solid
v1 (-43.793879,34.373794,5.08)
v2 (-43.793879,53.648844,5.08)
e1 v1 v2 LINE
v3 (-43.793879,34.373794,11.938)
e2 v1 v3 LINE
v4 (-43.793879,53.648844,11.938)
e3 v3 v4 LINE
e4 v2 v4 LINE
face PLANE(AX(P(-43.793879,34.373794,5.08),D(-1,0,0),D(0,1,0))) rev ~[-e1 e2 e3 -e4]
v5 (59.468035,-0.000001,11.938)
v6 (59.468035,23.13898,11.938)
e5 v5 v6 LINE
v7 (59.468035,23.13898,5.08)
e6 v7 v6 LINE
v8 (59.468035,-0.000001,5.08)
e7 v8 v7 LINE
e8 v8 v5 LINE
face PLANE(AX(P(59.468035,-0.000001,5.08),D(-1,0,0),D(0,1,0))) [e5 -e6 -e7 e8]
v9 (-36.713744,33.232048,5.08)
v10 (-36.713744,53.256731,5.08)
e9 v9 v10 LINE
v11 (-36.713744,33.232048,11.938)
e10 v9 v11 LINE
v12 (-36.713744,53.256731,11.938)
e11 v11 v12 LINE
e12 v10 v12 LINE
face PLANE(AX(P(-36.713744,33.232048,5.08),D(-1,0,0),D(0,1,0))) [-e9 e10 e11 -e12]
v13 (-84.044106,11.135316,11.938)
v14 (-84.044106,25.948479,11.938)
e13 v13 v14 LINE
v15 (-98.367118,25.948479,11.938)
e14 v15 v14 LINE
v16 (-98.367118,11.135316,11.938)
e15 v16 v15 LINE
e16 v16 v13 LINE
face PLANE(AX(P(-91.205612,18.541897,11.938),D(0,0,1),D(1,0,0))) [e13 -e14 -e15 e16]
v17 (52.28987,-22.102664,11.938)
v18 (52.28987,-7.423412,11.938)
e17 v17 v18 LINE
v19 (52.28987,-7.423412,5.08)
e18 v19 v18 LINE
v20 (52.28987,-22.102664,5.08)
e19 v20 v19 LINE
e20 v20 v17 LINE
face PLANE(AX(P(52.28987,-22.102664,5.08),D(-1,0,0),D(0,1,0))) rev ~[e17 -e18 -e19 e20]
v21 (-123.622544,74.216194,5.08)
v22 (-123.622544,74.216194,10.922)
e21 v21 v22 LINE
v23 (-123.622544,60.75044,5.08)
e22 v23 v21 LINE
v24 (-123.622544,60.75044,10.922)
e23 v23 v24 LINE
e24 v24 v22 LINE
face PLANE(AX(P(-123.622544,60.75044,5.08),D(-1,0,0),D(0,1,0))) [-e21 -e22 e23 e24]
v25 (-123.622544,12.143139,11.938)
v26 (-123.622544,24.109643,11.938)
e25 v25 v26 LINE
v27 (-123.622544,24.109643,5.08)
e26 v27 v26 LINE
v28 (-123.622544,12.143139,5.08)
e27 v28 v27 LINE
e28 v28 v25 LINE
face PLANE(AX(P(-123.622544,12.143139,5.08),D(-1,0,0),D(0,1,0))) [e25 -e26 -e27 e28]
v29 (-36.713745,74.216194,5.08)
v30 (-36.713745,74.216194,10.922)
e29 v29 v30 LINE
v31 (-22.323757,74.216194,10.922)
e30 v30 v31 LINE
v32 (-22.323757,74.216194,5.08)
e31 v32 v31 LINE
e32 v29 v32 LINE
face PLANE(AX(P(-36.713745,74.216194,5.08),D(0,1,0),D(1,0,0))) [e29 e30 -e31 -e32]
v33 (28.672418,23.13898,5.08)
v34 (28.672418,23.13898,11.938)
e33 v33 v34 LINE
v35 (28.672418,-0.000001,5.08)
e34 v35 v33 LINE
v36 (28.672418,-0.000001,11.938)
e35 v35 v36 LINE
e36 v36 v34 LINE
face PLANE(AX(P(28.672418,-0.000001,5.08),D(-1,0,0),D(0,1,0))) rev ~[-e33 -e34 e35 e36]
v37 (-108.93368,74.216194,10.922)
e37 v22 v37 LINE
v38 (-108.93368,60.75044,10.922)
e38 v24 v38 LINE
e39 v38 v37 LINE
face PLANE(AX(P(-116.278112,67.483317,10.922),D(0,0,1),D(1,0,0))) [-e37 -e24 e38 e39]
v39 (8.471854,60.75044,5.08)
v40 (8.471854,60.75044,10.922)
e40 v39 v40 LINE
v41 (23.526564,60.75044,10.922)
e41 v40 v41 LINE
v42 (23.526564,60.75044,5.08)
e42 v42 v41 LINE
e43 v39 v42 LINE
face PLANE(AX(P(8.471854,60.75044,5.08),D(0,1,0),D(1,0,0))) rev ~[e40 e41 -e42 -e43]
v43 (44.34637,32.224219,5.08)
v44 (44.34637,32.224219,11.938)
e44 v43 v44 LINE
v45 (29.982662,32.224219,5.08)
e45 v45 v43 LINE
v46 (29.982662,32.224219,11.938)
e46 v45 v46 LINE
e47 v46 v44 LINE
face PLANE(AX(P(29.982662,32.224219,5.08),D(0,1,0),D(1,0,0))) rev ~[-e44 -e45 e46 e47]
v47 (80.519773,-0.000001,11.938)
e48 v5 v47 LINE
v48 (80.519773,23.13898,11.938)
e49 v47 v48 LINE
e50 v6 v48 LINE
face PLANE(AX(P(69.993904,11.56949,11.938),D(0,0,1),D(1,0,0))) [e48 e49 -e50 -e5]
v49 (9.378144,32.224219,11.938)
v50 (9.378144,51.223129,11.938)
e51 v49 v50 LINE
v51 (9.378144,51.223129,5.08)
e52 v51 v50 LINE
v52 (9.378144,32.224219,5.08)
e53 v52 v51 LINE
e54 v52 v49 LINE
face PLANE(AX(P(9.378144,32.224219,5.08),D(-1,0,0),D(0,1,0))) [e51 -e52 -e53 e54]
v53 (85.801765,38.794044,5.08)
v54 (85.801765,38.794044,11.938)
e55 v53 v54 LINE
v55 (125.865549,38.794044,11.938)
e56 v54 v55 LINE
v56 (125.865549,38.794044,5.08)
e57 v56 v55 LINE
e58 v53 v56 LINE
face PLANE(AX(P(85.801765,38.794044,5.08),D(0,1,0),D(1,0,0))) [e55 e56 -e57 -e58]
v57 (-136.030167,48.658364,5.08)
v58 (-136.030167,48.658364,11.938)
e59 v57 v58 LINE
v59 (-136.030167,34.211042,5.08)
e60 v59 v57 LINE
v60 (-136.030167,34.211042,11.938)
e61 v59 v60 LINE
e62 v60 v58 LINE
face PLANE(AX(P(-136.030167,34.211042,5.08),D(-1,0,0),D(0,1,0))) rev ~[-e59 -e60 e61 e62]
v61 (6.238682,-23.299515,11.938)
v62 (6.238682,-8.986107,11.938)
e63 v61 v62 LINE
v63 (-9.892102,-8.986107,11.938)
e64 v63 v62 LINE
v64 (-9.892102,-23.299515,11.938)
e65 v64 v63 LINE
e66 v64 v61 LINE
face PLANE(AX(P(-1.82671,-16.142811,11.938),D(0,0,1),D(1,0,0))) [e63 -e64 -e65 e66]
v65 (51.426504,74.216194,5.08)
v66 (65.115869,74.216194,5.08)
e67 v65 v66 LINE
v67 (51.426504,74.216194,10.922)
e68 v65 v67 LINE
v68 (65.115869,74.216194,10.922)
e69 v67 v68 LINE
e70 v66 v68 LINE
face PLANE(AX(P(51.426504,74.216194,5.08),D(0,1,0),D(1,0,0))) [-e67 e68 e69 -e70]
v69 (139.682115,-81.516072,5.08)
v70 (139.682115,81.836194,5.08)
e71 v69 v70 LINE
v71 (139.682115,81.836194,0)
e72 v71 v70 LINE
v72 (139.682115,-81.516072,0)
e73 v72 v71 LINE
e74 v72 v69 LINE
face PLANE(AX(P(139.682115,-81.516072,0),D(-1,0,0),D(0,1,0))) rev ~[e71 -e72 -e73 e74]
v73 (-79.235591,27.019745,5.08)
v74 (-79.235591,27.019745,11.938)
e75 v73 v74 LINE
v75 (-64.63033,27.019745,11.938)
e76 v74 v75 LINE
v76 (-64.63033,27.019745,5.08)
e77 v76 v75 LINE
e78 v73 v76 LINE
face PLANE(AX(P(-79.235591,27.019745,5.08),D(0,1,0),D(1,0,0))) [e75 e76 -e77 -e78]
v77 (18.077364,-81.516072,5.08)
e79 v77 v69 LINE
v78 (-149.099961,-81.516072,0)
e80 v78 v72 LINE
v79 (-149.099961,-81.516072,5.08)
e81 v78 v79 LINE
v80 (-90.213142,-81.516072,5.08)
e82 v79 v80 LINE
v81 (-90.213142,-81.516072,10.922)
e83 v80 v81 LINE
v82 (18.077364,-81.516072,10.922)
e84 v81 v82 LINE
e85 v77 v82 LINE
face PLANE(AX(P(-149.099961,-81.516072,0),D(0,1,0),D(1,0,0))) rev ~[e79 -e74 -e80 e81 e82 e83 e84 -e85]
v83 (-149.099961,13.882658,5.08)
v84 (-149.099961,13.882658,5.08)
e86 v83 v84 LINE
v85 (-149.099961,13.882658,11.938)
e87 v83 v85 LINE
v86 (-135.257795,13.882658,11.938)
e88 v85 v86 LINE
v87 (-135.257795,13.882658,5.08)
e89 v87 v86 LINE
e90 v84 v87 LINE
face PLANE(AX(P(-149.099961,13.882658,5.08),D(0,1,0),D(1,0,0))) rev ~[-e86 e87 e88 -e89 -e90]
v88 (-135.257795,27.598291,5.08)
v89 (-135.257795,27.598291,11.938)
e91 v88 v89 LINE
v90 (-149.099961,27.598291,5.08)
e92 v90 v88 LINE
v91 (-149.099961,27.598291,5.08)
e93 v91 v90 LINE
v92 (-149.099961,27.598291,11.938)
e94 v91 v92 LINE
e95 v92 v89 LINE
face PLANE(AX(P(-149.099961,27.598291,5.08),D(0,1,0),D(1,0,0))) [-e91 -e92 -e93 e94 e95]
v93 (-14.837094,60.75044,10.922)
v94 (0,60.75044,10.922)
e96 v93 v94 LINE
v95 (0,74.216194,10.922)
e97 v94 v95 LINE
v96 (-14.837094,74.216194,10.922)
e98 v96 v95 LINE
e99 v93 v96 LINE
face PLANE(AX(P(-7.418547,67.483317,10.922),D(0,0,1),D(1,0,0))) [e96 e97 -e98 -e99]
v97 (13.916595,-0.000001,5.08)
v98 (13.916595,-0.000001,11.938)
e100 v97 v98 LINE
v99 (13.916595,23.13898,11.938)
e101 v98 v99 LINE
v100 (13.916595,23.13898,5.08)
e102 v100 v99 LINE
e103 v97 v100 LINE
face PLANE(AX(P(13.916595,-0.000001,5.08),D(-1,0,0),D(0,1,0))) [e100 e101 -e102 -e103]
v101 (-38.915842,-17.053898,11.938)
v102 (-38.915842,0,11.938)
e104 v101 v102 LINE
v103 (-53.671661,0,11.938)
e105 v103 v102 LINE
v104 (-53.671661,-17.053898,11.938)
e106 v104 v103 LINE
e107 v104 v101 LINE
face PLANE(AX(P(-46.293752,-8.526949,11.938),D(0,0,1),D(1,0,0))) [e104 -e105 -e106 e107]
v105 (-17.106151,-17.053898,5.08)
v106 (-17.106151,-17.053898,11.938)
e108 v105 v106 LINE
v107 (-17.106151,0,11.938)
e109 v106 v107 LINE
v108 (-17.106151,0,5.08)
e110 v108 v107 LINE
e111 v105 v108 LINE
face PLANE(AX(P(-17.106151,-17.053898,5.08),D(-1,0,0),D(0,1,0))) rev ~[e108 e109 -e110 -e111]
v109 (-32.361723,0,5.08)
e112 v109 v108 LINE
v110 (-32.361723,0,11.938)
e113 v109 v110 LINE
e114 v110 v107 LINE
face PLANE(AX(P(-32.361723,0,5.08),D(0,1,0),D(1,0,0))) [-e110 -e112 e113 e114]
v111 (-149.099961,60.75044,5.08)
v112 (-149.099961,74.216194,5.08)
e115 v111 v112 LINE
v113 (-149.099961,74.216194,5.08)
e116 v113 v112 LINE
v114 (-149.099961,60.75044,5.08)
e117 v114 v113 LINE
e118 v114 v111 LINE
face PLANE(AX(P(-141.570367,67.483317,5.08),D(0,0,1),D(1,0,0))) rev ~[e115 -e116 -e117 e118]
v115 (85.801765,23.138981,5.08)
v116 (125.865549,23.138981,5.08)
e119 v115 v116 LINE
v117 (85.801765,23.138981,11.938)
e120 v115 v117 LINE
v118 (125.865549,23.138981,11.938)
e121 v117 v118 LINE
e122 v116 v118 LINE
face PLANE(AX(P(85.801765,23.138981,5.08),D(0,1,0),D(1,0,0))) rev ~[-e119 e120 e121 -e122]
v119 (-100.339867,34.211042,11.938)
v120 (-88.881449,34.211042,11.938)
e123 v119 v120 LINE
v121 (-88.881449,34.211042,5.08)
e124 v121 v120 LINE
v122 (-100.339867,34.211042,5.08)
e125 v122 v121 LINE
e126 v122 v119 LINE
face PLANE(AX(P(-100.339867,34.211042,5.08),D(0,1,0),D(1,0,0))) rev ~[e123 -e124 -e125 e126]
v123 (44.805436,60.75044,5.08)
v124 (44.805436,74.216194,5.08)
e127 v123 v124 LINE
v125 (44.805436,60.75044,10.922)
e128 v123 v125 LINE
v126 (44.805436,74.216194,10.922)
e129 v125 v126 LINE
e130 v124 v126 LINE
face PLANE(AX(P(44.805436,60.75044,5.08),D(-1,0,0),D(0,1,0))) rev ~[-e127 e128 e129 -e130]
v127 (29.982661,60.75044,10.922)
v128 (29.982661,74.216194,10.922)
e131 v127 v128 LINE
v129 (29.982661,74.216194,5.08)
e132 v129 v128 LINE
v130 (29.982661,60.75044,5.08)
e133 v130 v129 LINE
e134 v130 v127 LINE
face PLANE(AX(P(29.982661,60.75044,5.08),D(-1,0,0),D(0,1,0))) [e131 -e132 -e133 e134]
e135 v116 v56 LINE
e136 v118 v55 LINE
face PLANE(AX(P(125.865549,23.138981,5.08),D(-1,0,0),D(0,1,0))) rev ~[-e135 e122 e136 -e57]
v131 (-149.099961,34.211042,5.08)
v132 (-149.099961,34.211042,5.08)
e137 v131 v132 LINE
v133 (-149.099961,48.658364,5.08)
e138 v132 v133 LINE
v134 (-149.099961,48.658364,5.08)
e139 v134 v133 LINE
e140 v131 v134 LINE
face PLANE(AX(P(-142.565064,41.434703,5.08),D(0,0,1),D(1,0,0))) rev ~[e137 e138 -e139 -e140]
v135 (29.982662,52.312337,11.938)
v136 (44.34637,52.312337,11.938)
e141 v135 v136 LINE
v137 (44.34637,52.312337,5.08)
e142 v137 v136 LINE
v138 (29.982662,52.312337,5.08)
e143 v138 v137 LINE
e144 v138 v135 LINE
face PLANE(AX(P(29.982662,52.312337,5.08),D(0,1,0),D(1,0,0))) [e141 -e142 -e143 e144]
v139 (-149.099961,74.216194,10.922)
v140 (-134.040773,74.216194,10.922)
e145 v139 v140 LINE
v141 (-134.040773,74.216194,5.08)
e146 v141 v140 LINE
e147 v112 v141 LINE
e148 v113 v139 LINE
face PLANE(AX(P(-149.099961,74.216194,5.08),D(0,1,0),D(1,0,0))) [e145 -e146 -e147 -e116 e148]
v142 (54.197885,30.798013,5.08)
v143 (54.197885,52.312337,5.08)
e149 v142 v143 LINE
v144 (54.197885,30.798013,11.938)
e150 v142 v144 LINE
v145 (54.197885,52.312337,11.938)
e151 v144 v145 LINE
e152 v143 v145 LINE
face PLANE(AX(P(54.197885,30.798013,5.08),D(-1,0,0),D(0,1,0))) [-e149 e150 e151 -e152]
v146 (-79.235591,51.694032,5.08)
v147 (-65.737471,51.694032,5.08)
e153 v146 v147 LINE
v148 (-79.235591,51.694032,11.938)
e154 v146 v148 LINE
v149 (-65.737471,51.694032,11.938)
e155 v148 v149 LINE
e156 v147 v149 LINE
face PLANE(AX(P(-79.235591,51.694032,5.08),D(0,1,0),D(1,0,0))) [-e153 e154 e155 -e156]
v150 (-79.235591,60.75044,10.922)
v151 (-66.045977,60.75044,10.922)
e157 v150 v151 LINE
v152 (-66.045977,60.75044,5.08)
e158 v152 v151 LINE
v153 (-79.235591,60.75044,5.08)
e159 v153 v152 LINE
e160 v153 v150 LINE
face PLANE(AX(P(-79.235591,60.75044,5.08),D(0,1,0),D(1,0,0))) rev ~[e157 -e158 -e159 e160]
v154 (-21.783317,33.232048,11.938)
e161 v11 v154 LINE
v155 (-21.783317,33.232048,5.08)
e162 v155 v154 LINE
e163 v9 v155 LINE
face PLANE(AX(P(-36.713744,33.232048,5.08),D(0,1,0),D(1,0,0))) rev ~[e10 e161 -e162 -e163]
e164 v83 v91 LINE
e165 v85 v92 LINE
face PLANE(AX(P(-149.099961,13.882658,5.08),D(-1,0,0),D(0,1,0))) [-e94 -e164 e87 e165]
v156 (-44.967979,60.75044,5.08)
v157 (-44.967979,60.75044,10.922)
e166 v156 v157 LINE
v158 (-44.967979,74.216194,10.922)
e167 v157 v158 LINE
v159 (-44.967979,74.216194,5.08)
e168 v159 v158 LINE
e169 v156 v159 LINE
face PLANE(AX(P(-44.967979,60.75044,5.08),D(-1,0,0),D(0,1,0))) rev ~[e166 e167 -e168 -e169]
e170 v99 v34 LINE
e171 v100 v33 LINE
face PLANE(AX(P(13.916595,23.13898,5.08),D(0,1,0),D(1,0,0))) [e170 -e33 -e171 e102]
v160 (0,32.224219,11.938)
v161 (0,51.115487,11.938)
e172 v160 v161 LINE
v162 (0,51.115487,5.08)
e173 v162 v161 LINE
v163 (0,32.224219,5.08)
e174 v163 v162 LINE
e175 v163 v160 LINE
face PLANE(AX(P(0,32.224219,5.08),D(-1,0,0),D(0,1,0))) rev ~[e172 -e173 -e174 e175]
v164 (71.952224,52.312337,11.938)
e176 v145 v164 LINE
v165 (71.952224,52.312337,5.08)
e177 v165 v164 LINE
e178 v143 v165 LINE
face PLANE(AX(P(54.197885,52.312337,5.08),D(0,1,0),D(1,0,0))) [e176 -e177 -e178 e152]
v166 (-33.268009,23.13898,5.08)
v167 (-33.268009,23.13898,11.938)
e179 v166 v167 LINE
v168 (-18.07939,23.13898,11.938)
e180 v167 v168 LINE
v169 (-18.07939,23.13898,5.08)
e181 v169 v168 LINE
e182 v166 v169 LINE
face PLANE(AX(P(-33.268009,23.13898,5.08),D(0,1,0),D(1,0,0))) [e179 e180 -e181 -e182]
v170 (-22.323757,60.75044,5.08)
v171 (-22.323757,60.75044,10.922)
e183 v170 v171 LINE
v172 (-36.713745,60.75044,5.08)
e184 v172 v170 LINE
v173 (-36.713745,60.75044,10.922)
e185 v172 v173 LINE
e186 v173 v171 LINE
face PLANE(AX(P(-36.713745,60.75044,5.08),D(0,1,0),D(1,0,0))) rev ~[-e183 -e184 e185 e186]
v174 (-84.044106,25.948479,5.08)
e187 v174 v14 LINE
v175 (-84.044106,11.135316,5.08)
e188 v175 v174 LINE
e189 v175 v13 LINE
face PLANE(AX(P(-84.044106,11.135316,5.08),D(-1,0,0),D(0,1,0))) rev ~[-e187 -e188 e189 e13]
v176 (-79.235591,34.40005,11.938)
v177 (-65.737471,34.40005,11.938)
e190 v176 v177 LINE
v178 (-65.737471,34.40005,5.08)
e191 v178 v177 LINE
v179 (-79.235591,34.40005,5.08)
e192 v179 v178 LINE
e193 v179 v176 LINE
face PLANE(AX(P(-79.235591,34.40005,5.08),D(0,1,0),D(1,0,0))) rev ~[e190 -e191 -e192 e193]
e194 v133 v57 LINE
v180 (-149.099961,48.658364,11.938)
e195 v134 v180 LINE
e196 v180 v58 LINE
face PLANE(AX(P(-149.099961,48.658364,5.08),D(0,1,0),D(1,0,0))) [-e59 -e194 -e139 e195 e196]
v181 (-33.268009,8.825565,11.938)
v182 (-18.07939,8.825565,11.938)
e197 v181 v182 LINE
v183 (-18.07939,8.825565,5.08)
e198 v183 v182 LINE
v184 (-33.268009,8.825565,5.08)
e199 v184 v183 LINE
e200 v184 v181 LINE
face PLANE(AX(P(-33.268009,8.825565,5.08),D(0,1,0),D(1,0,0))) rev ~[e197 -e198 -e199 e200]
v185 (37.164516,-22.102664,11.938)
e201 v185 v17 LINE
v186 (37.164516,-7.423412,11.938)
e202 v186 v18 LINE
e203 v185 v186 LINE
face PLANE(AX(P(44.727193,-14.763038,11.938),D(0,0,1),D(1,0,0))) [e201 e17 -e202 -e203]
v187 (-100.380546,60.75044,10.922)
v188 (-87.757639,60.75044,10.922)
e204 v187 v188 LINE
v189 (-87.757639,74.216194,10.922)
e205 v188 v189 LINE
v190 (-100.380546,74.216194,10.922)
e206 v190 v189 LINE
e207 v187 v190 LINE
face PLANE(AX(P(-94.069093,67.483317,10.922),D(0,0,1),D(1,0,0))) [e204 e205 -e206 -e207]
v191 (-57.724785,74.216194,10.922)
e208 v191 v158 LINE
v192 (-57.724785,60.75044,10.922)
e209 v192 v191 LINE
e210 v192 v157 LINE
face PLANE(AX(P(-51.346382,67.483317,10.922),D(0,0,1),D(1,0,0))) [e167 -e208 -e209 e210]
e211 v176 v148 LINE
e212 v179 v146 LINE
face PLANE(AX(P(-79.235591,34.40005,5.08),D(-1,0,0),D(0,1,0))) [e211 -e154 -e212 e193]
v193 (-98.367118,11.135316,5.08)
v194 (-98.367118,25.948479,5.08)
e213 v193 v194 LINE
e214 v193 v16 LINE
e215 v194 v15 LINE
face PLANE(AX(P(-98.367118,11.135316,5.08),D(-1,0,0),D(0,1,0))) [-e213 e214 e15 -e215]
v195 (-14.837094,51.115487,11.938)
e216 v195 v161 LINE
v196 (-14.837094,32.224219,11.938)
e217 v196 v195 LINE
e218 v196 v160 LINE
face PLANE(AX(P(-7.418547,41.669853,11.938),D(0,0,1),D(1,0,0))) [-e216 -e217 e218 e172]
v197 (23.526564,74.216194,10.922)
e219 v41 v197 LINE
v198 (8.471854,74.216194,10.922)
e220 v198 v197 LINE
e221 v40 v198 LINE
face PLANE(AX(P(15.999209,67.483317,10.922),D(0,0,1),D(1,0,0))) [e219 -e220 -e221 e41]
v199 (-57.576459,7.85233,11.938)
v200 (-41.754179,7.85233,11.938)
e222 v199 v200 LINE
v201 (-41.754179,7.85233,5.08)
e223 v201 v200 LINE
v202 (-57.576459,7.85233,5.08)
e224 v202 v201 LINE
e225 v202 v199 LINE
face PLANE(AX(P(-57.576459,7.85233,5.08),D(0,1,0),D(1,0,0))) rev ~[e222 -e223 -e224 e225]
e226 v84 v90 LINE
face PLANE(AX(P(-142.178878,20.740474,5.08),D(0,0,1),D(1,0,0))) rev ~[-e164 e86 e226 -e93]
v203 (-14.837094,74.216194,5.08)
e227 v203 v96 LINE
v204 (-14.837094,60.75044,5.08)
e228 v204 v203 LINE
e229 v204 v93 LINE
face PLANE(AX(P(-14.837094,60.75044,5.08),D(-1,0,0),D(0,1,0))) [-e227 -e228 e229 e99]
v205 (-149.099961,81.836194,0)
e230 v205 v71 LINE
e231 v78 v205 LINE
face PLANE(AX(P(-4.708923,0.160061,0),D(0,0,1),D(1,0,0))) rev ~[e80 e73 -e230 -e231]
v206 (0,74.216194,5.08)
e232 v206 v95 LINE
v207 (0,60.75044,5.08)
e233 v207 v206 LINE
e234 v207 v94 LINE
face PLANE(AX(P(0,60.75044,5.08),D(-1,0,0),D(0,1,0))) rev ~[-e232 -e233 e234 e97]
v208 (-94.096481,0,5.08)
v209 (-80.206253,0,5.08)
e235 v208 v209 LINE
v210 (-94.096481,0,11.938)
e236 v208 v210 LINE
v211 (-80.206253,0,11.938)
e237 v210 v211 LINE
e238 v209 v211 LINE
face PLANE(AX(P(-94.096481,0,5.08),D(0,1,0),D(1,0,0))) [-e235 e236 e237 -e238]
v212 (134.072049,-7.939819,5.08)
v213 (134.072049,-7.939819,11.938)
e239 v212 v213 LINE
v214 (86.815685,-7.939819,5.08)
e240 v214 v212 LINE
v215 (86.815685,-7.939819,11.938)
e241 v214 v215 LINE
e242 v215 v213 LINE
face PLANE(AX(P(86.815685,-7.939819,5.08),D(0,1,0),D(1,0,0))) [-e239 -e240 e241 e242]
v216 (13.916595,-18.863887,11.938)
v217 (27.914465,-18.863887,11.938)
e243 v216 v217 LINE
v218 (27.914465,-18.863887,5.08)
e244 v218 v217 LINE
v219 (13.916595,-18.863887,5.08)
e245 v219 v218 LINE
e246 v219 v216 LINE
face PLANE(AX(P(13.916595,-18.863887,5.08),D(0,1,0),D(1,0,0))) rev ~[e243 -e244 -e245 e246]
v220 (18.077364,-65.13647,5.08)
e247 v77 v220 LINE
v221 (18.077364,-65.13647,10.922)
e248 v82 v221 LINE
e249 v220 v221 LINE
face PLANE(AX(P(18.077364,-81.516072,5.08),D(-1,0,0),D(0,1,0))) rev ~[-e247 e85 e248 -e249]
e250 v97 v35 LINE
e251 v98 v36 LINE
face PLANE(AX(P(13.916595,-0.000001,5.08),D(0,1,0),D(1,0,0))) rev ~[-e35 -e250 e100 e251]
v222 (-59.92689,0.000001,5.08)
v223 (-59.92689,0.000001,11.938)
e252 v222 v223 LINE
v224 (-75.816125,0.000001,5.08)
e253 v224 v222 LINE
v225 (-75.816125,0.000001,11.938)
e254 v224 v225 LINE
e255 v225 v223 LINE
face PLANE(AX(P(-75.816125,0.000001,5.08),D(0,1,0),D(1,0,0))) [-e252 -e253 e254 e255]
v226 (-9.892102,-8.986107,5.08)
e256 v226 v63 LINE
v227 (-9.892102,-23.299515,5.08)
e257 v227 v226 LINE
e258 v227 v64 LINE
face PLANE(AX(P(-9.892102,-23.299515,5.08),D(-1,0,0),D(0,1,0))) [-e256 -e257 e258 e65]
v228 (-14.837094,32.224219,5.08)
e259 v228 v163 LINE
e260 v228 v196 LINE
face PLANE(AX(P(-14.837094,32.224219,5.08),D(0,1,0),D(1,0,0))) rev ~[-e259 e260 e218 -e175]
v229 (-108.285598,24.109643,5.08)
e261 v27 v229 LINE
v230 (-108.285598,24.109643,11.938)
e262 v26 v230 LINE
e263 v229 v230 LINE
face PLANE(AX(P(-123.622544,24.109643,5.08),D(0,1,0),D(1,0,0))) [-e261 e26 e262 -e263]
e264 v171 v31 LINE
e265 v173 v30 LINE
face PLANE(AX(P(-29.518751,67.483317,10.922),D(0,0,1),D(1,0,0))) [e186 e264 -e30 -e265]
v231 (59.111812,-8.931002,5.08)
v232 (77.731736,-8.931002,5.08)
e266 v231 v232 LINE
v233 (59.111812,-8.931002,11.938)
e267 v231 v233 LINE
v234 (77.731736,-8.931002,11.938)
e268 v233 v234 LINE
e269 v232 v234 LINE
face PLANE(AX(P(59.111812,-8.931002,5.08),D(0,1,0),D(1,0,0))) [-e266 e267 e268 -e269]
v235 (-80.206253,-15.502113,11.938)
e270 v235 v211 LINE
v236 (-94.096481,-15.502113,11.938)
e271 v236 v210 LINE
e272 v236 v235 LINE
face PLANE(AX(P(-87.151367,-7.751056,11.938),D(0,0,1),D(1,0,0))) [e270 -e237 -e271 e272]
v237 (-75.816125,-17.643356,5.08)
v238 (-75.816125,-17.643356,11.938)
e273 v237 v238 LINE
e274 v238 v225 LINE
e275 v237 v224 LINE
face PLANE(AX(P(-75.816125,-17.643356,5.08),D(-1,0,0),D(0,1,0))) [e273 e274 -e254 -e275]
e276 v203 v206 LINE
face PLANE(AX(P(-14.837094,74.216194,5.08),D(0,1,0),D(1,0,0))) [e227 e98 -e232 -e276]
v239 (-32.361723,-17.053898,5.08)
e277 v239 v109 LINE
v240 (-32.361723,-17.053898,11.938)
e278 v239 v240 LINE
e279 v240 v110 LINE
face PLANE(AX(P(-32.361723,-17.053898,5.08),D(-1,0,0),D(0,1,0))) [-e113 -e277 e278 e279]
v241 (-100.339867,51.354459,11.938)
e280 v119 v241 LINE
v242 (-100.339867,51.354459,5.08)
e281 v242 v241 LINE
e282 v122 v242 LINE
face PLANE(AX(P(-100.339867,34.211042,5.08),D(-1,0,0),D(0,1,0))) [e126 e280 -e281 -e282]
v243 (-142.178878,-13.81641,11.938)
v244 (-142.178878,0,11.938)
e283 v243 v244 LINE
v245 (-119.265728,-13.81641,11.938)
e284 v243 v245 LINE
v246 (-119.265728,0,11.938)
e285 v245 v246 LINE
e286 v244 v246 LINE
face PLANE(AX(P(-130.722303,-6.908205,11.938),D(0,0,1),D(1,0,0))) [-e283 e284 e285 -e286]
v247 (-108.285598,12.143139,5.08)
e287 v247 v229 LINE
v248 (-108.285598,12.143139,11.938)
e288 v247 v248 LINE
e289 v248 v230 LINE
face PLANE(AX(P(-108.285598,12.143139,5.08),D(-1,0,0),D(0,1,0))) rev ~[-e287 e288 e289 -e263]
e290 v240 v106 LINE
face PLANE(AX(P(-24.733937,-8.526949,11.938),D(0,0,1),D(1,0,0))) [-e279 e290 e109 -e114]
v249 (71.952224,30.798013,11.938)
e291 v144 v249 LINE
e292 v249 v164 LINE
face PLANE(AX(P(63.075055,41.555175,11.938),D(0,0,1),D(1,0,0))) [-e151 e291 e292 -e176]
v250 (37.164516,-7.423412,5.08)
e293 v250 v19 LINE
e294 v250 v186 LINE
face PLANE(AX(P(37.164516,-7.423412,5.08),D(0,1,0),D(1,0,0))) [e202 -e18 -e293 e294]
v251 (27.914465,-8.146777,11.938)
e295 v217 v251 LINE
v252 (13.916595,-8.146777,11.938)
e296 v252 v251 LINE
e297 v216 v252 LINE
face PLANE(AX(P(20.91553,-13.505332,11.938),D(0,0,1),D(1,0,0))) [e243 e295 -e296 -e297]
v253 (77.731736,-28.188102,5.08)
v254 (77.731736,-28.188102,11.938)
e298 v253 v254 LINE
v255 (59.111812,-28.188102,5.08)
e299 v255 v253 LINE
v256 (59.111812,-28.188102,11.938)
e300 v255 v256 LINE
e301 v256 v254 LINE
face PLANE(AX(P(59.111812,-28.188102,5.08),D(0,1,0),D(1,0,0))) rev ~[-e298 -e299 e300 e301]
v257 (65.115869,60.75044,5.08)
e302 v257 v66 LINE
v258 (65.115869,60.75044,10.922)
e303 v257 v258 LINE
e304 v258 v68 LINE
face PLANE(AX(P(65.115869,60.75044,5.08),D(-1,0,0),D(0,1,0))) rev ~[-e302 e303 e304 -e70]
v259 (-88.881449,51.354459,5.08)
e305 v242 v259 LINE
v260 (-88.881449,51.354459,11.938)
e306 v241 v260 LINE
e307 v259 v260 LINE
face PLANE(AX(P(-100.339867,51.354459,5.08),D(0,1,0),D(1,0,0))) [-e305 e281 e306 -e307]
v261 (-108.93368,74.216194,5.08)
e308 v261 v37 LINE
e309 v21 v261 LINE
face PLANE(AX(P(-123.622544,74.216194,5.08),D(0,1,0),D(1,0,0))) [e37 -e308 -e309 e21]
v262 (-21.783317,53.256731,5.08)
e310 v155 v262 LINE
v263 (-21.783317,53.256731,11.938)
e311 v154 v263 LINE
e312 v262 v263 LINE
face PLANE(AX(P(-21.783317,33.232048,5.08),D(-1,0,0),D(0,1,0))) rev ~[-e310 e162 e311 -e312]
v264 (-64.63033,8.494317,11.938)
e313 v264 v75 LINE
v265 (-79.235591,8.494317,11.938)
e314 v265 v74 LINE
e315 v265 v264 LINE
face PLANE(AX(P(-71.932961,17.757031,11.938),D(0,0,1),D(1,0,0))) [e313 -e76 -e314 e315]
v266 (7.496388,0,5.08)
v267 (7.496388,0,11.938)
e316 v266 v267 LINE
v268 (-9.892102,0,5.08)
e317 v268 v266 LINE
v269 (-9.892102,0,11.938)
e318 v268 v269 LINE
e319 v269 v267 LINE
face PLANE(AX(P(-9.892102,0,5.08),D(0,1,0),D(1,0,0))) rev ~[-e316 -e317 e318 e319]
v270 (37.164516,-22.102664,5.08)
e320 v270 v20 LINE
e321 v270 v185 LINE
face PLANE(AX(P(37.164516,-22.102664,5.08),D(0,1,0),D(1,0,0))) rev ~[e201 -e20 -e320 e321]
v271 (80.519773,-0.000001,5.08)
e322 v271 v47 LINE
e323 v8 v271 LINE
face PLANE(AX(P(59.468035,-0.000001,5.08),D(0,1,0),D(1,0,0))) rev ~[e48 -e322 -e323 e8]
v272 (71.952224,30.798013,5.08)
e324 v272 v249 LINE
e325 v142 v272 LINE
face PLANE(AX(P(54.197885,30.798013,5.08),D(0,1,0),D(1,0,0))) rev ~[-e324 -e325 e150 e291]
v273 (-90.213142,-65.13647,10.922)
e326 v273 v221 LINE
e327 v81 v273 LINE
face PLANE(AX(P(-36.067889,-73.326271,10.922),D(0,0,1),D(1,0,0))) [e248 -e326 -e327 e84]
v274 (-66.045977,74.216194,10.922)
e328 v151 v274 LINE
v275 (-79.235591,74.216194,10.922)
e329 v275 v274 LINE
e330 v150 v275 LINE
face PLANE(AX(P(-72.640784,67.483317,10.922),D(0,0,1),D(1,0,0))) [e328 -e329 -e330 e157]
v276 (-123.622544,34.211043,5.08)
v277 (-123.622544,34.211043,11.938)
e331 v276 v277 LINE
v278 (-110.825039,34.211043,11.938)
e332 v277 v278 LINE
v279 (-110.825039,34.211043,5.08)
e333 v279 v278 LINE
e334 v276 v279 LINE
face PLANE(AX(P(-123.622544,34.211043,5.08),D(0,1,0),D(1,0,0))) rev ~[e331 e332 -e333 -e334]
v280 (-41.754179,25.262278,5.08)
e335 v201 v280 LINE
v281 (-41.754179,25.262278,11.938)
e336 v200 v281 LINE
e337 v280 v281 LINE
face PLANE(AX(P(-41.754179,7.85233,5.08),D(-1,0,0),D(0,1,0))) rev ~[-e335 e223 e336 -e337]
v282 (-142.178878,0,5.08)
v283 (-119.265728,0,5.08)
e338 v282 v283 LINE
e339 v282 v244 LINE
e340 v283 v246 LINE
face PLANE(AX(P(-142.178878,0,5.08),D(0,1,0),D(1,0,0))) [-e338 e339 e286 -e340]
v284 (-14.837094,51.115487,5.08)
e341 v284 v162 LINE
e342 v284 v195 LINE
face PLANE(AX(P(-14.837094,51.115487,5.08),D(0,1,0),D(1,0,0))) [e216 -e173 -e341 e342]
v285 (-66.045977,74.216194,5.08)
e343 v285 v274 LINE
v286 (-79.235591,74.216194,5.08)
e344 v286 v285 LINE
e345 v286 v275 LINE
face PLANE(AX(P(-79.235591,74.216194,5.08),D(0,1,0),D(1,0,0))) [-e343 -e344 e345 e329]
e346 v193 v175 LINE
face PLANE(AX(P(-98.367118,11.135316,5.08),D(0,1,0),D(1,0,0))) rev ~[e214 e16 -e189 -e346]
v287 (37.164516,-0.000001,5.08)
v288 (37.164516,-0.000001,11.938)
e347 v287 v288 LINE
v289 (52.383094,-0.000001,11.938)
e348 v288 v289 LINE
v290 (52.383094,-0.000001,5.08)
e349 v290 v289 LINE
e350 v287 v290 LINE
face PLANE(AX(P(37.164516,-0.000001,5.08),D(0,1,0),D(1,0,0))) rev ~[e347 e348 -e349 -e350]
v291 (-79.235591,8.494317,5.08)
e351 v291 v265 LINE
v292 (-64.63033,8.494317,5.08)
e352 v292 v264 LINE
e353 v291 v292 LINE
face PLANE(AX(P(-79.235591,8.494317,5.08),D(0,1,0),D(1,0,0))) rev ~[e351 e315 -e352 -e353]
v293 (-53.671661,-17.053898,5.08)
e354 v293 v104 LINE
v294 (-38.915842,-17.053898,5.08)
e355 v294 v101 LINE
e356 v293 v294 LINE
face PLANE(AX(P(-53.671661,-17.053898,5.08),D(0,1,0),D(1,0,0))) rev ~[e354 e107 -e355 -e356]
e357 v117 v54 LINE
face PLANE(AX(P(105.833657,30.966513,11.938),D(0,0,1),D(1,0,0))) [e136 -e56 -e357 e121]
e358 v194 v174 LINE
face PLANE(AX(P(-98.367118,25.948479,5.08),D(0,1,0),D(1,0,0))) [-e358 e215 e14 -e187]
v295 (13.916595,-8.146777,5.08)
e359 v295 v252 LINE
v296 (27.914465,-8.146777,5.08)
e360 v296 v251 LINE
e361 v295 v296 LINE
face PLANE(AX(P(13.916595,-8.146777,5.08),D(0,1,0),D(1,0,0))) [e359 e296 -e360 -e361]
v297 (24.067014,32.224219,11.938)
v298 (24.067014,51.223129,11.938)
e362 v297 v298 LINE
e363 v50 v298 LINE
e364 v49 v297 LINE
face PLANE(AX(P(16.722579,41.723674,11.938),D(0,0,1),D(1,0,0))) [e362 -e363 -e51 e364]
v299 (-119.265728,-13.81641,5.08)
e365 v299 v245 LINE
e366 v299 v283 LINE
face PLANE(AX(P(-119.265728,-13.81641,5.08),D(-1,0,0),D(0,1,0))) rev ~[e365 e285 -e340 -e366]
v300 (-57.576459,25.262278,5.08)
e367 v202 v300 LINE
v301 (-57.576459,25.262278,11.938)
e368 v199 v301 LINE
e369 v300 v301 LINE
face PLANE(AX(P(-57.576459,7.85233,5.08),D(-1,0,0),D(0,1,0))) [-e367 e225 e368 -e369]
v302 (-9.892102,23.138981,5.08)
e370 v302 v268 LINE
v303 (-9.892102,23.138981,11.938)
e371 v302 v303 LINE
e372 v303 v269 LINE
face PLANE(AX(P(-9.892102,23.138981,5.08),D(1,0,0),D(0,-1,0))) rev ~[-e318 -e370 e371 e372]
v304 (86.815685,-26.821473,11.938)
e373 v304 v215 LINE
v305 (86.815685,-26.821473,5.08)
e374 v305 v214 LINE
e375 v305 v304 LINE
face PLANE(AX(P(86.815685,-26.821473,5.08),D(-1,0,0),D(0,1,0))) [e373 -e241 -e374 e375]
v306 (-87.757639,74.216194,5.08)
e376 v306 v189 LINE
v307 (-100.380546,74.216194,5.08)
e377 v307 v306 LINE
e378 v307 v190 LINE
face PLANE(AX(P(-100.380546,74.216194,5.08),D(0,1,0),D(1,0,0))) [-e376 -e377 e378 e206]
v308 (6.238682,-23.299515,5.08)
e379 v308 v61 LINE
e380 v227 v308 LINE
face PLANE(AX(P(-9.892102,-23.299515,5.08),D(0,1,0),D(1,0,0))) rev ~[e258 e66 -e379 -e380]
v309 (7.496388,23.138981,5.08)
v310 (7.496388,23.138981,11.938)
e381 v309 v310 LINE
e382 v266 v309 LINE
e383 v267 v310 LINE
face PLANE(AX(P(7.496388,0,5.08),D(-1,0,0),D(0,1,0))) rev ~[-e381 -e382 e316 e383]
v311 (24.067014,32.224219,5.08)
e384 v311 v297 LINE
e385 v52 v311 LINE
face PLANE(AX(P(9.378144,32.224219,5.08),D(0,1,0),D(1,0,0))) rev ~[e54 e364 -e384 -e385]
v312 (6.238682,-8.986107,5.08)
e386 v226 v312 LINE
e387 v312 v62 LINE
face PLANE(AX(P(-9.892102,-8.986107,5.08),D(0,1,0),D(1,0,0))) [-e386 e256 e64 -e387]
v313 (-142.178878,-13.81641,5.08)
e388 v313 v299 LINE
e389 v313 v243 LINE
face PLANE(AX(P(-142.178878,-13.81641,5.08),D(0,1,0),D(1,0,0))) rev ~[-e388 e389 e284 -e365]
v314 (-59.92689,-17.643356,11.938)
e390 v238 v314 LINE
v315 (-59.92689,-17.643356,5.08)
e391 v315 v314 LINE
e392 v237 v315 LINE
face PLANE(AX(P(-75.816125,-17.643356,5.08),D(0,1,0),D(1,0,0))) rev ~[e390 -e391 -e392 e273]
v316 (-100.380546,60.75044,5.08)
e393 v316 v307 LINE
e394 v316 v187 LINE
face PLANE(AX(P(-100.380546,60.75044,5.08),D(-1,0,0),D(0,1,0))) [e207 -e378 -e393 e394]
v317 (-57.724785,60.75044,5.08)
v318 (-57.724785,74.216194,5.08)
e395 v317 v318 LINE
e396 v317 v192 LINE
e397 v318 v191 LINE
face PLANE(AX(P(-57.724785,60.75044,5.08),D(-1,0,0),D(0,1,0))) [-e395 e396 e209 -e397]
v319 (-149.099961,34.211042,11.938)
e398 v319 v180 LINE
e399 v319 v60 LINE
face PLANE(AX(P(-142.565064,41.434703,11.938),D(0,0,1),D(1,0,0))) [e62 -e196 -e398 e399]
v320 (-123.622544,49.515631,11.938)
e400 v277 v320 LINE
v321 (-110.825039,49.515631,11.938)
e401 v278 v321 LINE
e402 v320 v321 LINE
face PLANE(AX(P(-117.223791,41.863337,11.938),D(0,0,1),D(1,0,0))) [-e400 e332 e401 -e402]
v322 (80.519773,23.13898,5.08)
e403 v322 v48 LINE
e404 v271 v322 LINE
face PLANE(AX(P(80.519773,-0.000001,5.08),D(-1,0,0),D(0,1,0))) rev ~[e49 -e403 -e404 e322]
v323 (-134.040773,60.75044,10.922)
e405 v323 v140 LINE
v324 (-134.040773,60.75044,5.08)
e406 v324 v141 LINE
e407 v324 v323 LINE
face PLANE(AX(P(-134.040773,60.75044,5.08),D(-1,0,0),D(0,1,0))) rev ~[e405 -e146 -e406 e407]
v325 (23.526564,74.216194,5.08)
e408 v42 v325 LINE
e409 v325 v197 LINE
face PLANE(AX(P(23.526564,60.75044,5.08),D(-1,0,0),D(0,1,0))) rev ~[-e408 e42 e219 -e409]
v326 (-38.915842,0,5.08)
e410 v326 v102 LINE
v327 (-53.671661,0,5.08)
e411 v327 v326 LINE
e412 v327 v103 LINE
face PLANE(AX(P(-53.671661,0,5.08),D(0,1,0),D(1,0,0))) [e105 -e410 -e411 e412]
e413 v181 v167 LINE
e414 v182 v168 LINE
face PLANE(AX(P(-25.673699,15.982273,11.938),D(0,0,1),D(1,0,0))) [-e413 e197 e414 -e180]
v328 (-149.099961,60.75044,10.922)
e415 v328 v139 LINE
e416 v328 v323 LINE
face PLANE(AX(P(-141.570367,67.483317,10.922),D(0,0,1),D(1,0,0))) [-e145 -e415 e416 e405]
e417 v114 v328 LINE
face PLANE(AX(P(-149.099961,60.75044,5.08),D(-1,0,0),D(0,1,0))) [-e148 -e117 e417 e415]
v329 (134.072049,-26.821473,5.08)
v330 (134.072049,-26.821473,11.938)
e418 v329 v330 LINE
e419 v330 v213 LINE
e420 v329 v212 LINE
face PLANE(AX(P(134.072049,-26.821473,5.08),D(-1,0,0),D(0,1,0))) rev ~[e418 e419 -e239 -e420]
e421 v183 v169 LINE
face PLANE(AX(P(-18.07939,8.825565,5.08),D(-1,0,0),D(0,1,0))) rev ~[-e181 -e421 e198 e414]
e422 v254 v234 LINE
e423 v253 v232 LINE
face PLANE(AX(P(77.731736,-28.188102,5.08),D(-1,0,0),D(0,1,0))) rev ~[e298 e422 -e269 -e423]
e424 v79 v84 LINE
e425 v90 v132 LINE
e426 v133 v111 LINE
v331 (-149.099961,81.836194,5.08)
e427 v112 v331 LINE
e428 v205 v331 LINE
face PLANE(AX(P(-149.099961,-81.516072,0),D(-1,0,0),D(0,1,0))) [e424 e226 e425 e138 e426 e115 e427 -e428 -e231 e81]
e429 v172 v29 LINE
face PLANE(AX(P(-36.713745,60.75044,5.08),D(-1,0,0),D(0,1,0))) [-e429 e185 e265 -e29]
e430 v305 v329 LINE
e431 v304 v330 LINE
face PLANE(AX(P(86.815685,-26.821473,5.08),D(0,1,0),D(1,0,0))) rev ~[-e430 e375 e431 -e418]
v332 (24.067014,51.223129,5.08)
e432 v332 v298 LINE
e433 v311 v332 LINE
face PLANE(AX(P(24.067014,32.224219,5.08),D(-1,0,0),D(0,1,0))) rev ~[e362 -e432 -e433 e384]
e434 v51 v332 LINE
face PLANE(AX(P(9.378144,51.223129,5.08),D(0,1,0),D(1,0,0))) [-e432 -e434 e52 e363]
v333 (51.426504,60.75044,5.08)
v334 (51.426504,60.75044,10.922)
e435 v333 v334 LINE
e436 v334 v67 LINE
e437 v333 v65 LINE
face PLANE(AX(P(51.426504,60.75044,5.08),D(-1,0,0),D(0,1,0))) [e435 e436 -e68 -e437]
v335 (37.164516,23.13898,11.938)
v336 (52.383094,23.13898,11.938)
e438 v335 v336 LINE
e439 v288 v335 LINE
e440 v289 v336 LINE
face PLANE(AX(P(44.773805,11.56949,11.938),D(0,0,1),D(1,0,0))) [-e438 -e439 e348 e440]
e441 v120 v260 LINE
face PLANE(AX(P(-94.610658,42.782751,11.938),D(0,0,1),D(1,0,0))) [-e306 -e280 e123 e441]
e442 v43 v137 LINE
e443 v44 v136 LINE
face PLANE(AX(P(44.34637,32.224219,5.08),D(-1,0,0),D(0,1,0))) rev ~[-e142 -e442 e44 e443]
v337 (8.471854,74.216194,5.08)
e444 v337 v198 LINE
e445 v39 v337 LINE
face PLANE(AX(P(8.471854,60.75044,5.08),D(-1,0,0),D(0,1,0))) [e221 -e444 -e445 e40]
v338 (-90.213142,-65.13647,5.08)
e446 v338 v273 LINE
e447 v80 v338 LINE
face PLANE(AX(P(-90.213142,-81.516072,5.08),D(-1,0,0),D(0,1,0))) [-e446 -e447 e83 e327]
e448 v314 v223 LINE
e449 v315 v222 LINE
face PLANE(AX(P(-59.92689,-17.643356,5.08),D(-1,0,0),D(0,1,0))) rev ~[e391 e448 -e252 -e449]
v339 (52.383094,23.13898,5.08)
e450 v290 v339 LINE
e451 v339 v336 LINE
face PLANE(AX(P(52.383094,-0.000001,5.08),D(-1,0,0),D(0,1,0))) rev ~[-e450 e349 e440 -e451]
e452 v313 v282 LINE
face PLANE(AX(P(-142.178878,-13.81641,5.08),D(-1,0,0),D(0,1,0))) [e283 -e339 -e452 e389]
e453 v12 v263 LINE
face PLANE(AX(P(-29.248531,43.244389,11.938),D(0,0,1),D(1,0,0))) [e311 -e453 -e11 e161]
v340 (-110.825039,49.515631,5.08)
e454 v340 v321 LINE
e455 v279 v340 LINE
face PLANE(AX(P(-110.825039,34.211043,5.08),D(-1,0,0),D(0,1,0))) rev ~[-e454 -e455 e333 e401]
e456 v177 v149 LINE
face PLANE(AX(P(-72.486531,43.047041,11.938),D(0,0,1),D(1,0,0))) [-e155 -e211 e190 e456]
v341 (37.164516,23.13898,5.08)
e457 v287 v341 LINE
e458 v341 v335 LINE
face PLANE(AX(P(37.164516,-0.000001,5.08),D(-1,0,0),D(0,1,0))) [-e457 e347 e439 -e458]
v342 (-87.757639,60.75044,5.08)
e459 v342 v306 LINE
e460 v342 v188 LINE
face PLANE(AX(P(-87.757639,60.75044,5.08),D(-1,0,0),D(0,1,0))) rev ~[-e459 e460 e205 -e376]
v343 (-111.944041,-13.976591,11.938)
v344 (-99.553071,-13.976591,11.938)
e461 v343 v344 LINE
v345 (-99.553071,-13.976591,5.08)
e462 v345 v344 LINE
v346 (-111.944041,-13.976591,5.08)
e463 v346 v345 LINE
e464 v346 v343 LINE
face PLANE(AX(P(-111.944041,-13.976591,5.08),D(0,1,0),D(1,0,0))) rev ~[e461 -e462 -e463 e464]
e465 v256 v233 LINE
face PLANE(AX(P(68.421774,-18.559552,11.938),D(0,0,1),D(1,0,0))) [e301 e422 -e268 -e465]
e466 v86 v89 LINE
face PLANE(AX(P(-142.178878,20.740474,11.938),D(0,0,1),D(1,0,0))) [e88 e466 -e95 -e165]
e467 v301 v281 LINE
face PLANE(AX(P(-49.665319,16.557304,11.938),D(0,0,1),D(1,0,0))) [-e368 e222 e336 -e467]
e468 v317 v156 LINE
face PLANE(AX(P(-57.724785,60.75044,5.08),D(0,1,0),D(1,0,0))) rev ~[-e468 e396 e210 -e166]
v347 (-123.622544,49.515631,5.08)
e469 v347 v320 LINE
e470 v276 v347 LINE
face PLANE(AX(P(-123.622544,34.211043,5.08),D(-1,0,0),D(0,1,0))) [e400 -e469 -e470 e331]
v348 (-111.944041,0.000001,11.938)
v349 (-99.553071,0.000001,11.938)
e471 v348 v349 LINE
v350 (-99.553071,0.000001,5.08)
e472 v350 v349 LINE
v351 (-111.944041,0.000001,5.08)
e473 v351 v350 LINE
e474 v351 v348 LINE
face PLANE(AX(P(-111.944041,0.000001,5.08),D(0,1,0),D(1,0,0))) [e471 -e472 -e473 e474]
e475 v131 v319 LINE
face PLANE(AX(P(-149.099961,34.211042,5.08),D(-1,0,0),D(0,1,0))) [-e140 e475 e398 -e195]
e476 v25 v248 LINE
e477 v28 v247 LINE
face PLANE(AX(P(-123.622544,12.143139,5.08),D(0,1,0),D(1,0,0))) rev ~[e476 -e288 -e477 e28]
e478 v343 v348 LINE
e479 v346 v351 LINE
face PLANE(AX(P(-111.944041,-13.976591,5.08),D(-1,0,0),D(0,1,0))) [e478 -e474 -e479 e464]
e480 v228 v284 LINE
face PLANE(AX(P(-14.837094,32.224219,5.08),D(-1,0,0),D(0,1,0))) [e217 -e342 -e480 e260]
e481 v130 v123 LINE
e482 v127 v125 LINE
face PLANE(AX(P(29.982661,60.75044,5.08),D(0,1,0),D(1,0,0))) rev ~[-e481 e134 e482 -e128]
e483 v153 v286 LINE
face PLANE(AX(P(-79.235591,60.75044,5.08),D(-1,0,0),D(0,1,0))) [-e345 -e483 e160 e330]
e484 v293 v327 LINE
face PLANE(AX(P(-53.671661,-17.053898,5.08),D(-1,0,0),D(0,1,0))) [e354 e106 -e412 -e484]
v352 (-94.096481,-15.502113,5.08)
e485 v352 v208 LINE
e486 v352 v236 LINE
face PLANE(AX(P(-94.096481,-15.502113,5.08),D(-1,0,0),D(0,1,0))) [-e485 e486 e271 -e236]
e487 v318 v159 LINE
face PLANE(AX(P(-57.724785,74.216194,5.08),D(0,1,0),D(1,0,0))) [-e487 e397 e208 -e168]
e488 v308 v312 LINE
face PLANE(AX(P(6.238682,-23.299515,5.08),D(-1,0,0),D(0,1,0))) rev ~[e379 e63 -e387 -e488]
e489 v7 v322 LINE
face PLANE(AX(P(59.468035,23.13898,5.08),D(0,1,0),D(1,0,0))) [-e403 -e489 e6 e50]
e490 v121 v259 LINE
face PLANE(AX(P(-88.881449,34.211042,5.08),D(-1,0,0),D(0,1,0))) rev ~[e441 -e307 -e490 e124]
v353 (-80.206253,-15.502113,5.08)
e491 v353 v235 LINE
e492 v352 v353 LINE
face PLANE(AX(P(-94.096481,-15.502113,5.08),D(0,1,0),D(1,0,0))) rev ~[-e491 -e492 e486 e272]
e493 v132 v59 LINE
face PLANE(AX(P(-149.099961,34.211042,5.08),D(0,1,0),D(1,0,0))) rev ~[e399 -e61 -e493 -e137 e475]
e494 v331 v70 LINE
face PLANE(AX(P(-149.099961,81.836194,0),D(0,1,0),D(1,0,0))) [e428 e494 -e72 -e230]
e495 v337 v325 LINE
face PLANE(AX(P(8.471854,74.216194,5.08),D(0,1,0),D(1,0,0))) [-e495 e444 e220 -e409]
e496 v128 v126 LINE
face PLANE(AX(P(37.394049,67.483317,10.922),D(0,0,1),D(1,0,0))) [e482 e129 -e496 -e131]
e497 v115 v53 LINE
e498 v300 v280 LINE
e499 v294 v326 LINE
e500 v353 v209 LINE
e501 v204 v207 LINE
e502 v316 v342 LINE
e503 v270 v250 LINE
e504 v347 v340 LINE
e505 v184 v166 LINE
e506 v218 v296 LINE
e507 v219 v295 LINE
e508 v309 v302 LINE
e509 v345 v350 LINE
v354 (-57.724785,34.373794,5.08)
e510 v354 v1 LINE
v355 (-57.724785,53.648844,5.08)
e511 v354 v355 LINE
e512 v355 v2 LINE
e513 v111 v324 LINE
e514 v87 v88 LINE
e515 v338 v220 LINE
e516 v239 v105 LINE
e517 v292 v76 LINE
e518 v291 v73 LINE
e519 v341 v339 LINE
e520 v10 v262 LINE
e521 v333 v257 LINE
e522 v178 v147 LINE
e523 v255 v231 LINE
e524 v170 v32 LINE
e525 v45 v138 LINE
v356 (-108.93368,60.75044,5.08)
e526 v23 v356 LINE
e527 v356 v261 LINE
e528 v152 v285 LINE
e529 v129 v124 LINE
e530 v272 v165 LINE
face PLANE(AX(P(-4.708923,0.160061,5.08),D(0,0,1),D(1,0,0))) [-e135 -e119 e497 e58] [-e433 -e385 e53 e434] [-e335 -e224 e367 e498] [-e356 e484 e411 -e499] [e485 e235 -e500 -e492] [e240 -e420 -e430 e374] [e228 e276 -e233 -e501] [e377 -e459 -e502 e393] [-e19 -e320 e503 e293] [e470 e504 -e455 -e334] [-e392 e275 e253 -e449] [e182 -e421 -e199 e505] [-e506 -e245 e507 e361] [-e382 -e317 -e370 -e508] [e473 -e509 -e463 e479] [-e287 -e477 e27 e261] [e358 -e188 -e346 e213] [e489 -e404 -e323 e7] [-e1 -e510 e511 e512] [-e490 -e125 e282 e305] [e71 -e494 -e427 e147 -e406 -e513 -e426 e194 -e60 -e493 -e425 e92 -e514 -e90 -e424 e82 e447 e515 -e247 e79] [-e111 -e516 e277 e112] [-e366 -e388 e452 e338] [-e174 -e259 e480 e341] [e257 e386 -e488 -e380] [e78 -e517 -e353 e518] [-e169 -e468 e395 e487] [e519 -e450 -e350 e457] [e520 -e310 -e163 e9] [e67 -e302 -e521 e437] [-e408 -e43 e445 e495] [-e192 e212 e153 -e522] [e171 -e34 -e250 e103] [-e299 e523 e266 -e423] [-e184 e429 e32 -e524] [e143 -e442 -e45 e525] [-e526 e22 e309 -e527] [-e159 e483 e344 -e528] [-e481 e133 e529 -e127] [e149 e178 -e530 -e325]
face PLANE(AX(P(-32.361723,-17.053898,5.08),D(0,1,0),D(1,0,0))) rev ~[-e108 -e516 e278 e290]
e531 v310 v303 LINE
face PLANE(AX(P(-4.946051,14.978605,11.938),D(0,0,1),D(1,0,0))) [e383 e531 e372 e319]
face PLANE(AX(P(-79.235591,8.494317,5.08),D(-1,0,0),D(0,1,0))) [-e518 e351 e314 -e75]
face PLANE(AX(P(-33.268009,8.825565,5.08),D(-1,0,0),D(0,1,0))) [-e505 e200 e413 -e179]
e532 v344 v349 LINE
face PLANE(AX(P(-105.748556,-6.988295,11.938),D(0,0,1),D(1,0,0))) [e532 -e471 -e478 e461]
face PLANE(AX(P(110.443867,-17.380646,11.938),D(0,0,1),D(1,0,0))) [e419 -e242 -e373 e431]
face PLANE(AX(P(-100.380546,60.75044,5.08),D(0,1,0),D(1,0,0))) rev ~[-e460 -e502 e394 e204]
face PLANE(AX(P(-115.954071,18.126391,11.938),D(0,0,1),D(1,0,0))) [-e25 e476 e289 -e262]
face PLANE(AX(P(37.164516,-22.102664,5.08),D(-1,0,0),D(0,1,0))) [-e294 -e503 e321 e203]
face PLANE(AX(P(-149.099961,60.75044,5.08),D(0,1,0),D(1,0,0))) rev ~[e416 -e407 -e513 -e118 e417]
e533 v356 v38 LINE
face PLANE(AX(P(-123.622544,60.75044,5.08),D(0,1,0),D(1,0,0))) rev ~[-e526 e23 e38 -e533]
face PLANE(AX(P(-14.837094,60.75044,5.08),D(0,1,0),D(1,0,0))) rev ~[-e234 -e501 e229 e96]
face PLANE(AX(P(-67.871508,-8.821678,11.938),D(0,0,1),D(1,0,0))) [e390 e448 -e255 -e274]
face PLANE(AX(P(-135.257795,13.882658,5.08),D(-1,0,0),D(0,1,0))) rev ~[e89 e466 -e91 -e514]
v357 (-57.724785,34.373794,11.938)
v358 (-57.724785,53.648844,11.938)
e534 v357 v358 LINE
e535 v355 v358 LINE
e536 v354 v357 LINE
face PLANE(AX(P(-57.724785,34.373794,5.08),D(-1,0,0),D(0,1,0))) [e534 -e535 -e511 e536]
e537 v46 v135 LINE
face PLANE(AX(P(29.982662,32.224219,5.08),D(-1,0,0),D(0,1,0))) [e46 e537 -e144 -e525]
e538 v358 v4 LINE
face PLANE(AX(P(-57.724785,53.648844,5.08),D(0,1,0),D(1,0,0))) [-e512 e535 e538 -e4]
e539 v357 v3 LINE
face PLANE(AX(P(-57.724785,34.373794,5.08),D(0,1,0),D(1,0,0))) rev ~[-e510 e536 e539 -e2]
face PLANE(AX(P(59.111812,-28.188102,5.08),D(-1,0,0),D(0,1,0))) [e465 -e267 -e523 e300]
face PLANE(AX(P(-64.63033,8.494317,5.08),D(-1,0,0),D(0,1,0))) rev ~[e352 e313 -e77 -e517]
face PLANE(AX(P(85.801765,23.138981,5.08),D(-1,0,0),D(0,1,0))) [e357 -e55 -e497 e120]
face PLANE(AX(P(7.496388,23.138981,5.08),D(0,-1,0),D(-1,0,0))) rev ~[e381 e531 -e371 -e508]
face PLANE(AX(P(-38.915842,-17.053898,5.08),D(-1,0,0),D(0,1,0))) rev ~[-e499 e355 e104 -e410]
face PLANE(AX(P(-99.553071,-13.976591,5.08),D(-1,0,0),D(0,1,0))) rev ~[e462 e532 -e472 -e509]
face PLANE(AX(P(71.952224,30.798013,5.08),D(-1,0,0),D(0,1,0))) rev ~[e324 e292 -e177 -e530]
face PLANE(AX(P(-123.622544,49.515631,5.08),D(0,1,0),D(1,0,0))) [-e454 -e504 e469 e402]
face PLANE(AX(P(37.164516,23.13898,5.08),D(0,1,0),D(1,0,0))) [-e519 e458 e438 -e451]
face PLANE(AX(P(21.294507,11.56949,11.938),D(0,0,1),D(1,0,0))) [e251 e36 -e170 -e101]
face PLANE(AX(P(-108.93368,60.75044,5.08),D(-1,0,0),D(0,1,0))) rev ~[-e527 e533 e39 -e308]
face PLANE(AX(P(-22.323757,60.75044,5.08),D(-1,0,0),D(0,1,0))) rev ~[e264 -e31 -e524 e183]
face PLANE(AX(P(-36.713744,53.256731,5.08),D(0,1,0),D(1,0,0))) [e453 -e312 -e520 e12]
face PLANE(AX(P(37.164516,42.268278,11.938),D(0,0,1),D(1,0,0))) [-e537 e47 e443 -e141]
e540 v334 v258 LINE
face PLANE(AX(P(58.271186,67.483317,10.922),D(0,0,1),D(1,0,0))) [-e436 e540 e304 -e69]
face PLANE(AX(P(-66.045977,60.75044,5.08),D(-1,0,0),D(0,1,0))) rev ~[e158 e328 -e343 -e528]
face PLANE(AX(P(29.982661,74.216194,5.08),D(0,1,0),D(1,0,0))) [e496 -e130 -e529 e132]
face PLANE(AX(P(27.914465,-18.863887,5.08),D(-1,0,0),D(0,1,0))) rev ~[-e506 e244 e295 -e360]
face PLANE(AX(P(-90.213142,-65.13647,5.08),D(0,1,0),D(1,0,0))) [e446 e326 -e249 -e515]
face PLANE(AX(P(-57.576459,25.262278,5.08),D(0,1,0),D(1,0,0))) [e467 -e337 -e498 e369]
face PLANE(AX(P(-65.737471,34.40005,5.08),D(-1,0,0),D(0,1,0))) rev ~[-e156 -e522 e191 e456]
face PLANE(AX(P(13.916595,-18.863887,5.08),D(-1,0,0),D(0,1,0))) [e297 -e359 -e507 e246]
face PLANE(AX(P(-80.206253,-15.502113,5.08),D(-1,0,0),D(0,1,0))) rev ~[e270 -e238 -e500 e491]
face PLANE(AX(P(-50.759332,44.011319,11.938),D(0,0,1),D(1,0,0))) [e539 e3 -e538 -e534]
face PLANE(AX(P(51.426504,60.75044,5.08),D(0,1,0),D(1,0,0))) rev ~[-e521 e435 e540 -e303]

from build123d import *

# Parameters (mm, degrees)
F0_W     = 288.782075
F0_H     = 163.352266
F1_DEPTH = 5.08
F2_W     = 15.059188
F2_H     = 13.465754
F2_W_2   = 14.688864
F2_W_3   = 12.622907
F2_W_4   = 13.189614
F2_W_5   = 12.756806
F2_W_6   = 14.389988
F2_W_7   = 14.837095
F2_W_8   = 15.054709
F2_W_9   = 14.822775
F2_W_10  = 13.689365
F3_DEPTH = 5.842
F4_W     = 108.290506
F4_H     = 16.379602
F5_DEPTH = 5.842
F6_W     = 13.069794
F6_H     = 14.447321
F6_W_2   = 12.797505
F6_H_2   = 15.304588
F6_W_3   = 11.458419
F6_H_3   = 17.143417
F6_W_4   = 13.49812
F6_H_4   = 17.293982
F6_W_5   = 13.930906
F6_H_5   = 19.27505
F6_W_6   = 14.930427
F6_H_6   = 20.024683
F6_W_7   = 14.837095
F6_H_7   = 18.891268
F6_W_8   = 14.688871
F6_H_8   = 18.99891
F6_W_9   = 14.363708
F6_H_9   = 20.088118
F6_W_10  = 17.754339
F6_H_10  = 21.514323
F6_W_11  = 13.842166
F6_H_11  = 13.715633
F6_W_12  = 15.336946
F6_H_12  = 11.966504
F6_W_13  = 14.323011
F6_H_13  = 14.813163
F6_W_14  = 14.605261
F6_H_14  = 18.525428
F6_W_15  = 15.82228
F6_H_15  = 17.409948
F6_W_16  = 15.188619
F6_H_16  = 14.313415
F6_W_17  = 22.91315
F6_H_17  = 13.81641
F6_W_18  = 9.892102
F6_H_18  = 16.320752
F6_W_19  = 14.755823
F6_H_19  = 23.138981
F6_W_20  = 15.218579
F6_W_21  = 21.051738
F6_W_22  = 40.063784
F6_H_20  = 15.655063
F6_W_23  = 47.256365
F6_H_21  = 18.881655
F6_W_24  = 12.390971
F6_H_22  = 13.976591
F6_W_25  = 13.890229
F6_H_23  = 15.502113
F6_W_26  = 15.889235
F6_H_24  = 17.643357
F6_W_27  = 14.755819
F6_H_25  = 17.053898
F6_W_28  = 15.255572
F6_W_29  = 16.130783
F6_H_26  = 14.313408
F6_W_30  = 13.997871
F6_H_27  = 10.71711
F6_W_31  = 15.125354
F6_H_28  = 14.679253
F6_W_32  = 18.619925
F6_H_29  = 19.2571
F7_DEPTH = 6.858


with BuildPart() as f1:
    # F0 (on Top) → F1 (new body)
    with BuildSketch(Plane.XY):
        with Locations((-4.708923, 0.160061)):
            Rectangle(F0_W, F0_H)
    extrude(amount=F1_DEPTH)

    # F2 (on face) → F3 (join)
    with BuildSketch(Plane.XY.offset(5.08)):
        with Locations((-141.570367, 67.483317)):
            Rectangle(F2_W, F2_H)
        with Locations((-116.278112, 67.483317)):
            Rectangle(F2_W_2, F2_H)
        with Locations((-94.069093, 67.483317)):
            Rectangle(F2_W_3, F2_H)
        with Locations((-72.640784, 67.483317)):
            Rectangle(F2_W_4, F2_H)
        with Locations((-51.346382, 67.483317)):
            Rectangle(F2_W_5, F2_H)
        with Locations((-29.518751, 67.483317)):
            Rectangle(F2_W_6, F2_H)
        with Locations((-7.418547, 67.483317)):
            Rectangle(F2_W_7, F2_H)
        with Locations((15.999209, 67.483317)):
            Rectangle(F2_W_8, F2_H)
        with Locations((37.394049, 67.483317)):
            Rectangle(F2_W_9, F2_H)
        with Locations((58.271186, 67.483317)):
            Rectangle(F2_W_10, F2_H)
    extrude(amount=F3_DEPTH)

    # F4 (on face) → F5 (join)
    with BuildSketch(Plane.XY.offset(5.08)):
        with Locations((-36.067889, -73.326271)):
            Rectangle(F4_W, F4_H)
    extrude(amount=F5_DEPTH)

    # F6 (on face) → F7 (join)
    with BuildSketch(Plane.XY.offset(5.08)):
        with Locations((-142.565064, 41.434703)):
            Rectangle(F6_W, F6_H)
        with Locations((-117.223791, 41.863337)):
            Rectangle(F6_W_2, F6_H_2)
        with Locations((-94.610658, 42.782751)):
            Rectangle(F6_W_3, F6_H_3)
        with Locations((-72.486531, 43.047041)):
            Rectangle(F6_W_4, F6_H_4)
        with Locations((-50.759332, 44.011319)):
            Rectangle(F6_W_5, F6_H_5)
        with Locations((-29.248531, 43.244389)):
            Rectangle(F6_W_6, F6_H_6)
        with Locations((-7.418547, 41.669853)):
            Rectangle(F6_W_7, F6_H_7)
        with Locations((16.722579, 41.723674)):
            Rectangle(F6_W_8, F6_H_8)
        with Locations((37.164516, 42.268278)):
            Rectangle(F6_W_9, F6_H_9)
        with Locations((63.075055, 41.555175)):
            Rectangle(F6_W_10, F6_H_10)
        with Locations((-142.178878, 20.740474)):
            Rectangle(F6_W_11, F6_H_11)
        with Locations((-115.954071, 18.126391)):
            Rectangle(F6_W_12, F6_H_12)
        with Locations((-91.205612, 18.541897)):
            Rectangle(F6_W_13, F6_H_13)
        with Locations((-71.932961, 17.757031)):
            Rectangle(F6_W_14, F6_H_14)
        with Locations((-49.665319, 16.557304)):
            Rectangle(F6_W_15, F6_H_15)
        with Locations((-25.673699, 15.982273)):
            Rectangle(F6_W_16, F6_H_16)
        with Locations((-130.722303, -6.908205)):
            Rectangle(F6_W_17, F6_H_17)
        with Locations((-4.946051, 14.978605)):
            Rectangle(F6_W_18, F6_H_18)
        Polygon((7.496388, 23.138981), (0, 23.138981), (0, 6.818229), (-9.892102, 6.818229), (-9.892102, 0), (7.496388, 0), align=None)
        with Locations((21.294507, 11.56949)):
            Rectangle(F6_W_19, F6_H_19)
        with Locations((44.773805, 11.56949)):
            Rectangle(F6_W_20, F6_H_19)
        with Locations((69.993904, 11.56949)):
            Rectangle(F6_W_21, F6_H_19)
        with Locations((105.833657, 30.966513)):
            Rectangle(F6_W_22, F6_H_20)
        with Locations((110.443867, -17.380646)):
            Rectangle(F6_W_23, F6_H_21)
        with Locations((-105.748556, -6.988295)):
            Rectangle(F6_W_24, F6_H_22)
        with Locations((-87.151367, -7.751056)):
            Rectangle(F6_W_25, F6_H_23)
        with Locations((-67.871508, -8.821678)):
            Rectangle(F6_W_26, F6_H_24)
        with Locations((-46.293752, -8.526949)):
            Rectangle(F6_W_27, F6_H_25)
        with Locations((-24.733937, -8.526949)):
            Rectangle(F6_W_28, F6_H_25)
        with Locations((-1.82671, -16.142811)):
            Rectangle(F6_W_29, F6_H_26)
        with Locations((20.91553, -13.505332)):
            Rectangle(F6_W_30, F6_H_27)
        with Locations((44.727193, -14.763038)):
            Rectangle(F6_W_31, F6_H_28)
        with Locations((68.421774, -18.559552)):
            Rectangle(F6_W_32, F6_H_29)
    extrude(amount=F7_DEPTH)


solid = f1.part
